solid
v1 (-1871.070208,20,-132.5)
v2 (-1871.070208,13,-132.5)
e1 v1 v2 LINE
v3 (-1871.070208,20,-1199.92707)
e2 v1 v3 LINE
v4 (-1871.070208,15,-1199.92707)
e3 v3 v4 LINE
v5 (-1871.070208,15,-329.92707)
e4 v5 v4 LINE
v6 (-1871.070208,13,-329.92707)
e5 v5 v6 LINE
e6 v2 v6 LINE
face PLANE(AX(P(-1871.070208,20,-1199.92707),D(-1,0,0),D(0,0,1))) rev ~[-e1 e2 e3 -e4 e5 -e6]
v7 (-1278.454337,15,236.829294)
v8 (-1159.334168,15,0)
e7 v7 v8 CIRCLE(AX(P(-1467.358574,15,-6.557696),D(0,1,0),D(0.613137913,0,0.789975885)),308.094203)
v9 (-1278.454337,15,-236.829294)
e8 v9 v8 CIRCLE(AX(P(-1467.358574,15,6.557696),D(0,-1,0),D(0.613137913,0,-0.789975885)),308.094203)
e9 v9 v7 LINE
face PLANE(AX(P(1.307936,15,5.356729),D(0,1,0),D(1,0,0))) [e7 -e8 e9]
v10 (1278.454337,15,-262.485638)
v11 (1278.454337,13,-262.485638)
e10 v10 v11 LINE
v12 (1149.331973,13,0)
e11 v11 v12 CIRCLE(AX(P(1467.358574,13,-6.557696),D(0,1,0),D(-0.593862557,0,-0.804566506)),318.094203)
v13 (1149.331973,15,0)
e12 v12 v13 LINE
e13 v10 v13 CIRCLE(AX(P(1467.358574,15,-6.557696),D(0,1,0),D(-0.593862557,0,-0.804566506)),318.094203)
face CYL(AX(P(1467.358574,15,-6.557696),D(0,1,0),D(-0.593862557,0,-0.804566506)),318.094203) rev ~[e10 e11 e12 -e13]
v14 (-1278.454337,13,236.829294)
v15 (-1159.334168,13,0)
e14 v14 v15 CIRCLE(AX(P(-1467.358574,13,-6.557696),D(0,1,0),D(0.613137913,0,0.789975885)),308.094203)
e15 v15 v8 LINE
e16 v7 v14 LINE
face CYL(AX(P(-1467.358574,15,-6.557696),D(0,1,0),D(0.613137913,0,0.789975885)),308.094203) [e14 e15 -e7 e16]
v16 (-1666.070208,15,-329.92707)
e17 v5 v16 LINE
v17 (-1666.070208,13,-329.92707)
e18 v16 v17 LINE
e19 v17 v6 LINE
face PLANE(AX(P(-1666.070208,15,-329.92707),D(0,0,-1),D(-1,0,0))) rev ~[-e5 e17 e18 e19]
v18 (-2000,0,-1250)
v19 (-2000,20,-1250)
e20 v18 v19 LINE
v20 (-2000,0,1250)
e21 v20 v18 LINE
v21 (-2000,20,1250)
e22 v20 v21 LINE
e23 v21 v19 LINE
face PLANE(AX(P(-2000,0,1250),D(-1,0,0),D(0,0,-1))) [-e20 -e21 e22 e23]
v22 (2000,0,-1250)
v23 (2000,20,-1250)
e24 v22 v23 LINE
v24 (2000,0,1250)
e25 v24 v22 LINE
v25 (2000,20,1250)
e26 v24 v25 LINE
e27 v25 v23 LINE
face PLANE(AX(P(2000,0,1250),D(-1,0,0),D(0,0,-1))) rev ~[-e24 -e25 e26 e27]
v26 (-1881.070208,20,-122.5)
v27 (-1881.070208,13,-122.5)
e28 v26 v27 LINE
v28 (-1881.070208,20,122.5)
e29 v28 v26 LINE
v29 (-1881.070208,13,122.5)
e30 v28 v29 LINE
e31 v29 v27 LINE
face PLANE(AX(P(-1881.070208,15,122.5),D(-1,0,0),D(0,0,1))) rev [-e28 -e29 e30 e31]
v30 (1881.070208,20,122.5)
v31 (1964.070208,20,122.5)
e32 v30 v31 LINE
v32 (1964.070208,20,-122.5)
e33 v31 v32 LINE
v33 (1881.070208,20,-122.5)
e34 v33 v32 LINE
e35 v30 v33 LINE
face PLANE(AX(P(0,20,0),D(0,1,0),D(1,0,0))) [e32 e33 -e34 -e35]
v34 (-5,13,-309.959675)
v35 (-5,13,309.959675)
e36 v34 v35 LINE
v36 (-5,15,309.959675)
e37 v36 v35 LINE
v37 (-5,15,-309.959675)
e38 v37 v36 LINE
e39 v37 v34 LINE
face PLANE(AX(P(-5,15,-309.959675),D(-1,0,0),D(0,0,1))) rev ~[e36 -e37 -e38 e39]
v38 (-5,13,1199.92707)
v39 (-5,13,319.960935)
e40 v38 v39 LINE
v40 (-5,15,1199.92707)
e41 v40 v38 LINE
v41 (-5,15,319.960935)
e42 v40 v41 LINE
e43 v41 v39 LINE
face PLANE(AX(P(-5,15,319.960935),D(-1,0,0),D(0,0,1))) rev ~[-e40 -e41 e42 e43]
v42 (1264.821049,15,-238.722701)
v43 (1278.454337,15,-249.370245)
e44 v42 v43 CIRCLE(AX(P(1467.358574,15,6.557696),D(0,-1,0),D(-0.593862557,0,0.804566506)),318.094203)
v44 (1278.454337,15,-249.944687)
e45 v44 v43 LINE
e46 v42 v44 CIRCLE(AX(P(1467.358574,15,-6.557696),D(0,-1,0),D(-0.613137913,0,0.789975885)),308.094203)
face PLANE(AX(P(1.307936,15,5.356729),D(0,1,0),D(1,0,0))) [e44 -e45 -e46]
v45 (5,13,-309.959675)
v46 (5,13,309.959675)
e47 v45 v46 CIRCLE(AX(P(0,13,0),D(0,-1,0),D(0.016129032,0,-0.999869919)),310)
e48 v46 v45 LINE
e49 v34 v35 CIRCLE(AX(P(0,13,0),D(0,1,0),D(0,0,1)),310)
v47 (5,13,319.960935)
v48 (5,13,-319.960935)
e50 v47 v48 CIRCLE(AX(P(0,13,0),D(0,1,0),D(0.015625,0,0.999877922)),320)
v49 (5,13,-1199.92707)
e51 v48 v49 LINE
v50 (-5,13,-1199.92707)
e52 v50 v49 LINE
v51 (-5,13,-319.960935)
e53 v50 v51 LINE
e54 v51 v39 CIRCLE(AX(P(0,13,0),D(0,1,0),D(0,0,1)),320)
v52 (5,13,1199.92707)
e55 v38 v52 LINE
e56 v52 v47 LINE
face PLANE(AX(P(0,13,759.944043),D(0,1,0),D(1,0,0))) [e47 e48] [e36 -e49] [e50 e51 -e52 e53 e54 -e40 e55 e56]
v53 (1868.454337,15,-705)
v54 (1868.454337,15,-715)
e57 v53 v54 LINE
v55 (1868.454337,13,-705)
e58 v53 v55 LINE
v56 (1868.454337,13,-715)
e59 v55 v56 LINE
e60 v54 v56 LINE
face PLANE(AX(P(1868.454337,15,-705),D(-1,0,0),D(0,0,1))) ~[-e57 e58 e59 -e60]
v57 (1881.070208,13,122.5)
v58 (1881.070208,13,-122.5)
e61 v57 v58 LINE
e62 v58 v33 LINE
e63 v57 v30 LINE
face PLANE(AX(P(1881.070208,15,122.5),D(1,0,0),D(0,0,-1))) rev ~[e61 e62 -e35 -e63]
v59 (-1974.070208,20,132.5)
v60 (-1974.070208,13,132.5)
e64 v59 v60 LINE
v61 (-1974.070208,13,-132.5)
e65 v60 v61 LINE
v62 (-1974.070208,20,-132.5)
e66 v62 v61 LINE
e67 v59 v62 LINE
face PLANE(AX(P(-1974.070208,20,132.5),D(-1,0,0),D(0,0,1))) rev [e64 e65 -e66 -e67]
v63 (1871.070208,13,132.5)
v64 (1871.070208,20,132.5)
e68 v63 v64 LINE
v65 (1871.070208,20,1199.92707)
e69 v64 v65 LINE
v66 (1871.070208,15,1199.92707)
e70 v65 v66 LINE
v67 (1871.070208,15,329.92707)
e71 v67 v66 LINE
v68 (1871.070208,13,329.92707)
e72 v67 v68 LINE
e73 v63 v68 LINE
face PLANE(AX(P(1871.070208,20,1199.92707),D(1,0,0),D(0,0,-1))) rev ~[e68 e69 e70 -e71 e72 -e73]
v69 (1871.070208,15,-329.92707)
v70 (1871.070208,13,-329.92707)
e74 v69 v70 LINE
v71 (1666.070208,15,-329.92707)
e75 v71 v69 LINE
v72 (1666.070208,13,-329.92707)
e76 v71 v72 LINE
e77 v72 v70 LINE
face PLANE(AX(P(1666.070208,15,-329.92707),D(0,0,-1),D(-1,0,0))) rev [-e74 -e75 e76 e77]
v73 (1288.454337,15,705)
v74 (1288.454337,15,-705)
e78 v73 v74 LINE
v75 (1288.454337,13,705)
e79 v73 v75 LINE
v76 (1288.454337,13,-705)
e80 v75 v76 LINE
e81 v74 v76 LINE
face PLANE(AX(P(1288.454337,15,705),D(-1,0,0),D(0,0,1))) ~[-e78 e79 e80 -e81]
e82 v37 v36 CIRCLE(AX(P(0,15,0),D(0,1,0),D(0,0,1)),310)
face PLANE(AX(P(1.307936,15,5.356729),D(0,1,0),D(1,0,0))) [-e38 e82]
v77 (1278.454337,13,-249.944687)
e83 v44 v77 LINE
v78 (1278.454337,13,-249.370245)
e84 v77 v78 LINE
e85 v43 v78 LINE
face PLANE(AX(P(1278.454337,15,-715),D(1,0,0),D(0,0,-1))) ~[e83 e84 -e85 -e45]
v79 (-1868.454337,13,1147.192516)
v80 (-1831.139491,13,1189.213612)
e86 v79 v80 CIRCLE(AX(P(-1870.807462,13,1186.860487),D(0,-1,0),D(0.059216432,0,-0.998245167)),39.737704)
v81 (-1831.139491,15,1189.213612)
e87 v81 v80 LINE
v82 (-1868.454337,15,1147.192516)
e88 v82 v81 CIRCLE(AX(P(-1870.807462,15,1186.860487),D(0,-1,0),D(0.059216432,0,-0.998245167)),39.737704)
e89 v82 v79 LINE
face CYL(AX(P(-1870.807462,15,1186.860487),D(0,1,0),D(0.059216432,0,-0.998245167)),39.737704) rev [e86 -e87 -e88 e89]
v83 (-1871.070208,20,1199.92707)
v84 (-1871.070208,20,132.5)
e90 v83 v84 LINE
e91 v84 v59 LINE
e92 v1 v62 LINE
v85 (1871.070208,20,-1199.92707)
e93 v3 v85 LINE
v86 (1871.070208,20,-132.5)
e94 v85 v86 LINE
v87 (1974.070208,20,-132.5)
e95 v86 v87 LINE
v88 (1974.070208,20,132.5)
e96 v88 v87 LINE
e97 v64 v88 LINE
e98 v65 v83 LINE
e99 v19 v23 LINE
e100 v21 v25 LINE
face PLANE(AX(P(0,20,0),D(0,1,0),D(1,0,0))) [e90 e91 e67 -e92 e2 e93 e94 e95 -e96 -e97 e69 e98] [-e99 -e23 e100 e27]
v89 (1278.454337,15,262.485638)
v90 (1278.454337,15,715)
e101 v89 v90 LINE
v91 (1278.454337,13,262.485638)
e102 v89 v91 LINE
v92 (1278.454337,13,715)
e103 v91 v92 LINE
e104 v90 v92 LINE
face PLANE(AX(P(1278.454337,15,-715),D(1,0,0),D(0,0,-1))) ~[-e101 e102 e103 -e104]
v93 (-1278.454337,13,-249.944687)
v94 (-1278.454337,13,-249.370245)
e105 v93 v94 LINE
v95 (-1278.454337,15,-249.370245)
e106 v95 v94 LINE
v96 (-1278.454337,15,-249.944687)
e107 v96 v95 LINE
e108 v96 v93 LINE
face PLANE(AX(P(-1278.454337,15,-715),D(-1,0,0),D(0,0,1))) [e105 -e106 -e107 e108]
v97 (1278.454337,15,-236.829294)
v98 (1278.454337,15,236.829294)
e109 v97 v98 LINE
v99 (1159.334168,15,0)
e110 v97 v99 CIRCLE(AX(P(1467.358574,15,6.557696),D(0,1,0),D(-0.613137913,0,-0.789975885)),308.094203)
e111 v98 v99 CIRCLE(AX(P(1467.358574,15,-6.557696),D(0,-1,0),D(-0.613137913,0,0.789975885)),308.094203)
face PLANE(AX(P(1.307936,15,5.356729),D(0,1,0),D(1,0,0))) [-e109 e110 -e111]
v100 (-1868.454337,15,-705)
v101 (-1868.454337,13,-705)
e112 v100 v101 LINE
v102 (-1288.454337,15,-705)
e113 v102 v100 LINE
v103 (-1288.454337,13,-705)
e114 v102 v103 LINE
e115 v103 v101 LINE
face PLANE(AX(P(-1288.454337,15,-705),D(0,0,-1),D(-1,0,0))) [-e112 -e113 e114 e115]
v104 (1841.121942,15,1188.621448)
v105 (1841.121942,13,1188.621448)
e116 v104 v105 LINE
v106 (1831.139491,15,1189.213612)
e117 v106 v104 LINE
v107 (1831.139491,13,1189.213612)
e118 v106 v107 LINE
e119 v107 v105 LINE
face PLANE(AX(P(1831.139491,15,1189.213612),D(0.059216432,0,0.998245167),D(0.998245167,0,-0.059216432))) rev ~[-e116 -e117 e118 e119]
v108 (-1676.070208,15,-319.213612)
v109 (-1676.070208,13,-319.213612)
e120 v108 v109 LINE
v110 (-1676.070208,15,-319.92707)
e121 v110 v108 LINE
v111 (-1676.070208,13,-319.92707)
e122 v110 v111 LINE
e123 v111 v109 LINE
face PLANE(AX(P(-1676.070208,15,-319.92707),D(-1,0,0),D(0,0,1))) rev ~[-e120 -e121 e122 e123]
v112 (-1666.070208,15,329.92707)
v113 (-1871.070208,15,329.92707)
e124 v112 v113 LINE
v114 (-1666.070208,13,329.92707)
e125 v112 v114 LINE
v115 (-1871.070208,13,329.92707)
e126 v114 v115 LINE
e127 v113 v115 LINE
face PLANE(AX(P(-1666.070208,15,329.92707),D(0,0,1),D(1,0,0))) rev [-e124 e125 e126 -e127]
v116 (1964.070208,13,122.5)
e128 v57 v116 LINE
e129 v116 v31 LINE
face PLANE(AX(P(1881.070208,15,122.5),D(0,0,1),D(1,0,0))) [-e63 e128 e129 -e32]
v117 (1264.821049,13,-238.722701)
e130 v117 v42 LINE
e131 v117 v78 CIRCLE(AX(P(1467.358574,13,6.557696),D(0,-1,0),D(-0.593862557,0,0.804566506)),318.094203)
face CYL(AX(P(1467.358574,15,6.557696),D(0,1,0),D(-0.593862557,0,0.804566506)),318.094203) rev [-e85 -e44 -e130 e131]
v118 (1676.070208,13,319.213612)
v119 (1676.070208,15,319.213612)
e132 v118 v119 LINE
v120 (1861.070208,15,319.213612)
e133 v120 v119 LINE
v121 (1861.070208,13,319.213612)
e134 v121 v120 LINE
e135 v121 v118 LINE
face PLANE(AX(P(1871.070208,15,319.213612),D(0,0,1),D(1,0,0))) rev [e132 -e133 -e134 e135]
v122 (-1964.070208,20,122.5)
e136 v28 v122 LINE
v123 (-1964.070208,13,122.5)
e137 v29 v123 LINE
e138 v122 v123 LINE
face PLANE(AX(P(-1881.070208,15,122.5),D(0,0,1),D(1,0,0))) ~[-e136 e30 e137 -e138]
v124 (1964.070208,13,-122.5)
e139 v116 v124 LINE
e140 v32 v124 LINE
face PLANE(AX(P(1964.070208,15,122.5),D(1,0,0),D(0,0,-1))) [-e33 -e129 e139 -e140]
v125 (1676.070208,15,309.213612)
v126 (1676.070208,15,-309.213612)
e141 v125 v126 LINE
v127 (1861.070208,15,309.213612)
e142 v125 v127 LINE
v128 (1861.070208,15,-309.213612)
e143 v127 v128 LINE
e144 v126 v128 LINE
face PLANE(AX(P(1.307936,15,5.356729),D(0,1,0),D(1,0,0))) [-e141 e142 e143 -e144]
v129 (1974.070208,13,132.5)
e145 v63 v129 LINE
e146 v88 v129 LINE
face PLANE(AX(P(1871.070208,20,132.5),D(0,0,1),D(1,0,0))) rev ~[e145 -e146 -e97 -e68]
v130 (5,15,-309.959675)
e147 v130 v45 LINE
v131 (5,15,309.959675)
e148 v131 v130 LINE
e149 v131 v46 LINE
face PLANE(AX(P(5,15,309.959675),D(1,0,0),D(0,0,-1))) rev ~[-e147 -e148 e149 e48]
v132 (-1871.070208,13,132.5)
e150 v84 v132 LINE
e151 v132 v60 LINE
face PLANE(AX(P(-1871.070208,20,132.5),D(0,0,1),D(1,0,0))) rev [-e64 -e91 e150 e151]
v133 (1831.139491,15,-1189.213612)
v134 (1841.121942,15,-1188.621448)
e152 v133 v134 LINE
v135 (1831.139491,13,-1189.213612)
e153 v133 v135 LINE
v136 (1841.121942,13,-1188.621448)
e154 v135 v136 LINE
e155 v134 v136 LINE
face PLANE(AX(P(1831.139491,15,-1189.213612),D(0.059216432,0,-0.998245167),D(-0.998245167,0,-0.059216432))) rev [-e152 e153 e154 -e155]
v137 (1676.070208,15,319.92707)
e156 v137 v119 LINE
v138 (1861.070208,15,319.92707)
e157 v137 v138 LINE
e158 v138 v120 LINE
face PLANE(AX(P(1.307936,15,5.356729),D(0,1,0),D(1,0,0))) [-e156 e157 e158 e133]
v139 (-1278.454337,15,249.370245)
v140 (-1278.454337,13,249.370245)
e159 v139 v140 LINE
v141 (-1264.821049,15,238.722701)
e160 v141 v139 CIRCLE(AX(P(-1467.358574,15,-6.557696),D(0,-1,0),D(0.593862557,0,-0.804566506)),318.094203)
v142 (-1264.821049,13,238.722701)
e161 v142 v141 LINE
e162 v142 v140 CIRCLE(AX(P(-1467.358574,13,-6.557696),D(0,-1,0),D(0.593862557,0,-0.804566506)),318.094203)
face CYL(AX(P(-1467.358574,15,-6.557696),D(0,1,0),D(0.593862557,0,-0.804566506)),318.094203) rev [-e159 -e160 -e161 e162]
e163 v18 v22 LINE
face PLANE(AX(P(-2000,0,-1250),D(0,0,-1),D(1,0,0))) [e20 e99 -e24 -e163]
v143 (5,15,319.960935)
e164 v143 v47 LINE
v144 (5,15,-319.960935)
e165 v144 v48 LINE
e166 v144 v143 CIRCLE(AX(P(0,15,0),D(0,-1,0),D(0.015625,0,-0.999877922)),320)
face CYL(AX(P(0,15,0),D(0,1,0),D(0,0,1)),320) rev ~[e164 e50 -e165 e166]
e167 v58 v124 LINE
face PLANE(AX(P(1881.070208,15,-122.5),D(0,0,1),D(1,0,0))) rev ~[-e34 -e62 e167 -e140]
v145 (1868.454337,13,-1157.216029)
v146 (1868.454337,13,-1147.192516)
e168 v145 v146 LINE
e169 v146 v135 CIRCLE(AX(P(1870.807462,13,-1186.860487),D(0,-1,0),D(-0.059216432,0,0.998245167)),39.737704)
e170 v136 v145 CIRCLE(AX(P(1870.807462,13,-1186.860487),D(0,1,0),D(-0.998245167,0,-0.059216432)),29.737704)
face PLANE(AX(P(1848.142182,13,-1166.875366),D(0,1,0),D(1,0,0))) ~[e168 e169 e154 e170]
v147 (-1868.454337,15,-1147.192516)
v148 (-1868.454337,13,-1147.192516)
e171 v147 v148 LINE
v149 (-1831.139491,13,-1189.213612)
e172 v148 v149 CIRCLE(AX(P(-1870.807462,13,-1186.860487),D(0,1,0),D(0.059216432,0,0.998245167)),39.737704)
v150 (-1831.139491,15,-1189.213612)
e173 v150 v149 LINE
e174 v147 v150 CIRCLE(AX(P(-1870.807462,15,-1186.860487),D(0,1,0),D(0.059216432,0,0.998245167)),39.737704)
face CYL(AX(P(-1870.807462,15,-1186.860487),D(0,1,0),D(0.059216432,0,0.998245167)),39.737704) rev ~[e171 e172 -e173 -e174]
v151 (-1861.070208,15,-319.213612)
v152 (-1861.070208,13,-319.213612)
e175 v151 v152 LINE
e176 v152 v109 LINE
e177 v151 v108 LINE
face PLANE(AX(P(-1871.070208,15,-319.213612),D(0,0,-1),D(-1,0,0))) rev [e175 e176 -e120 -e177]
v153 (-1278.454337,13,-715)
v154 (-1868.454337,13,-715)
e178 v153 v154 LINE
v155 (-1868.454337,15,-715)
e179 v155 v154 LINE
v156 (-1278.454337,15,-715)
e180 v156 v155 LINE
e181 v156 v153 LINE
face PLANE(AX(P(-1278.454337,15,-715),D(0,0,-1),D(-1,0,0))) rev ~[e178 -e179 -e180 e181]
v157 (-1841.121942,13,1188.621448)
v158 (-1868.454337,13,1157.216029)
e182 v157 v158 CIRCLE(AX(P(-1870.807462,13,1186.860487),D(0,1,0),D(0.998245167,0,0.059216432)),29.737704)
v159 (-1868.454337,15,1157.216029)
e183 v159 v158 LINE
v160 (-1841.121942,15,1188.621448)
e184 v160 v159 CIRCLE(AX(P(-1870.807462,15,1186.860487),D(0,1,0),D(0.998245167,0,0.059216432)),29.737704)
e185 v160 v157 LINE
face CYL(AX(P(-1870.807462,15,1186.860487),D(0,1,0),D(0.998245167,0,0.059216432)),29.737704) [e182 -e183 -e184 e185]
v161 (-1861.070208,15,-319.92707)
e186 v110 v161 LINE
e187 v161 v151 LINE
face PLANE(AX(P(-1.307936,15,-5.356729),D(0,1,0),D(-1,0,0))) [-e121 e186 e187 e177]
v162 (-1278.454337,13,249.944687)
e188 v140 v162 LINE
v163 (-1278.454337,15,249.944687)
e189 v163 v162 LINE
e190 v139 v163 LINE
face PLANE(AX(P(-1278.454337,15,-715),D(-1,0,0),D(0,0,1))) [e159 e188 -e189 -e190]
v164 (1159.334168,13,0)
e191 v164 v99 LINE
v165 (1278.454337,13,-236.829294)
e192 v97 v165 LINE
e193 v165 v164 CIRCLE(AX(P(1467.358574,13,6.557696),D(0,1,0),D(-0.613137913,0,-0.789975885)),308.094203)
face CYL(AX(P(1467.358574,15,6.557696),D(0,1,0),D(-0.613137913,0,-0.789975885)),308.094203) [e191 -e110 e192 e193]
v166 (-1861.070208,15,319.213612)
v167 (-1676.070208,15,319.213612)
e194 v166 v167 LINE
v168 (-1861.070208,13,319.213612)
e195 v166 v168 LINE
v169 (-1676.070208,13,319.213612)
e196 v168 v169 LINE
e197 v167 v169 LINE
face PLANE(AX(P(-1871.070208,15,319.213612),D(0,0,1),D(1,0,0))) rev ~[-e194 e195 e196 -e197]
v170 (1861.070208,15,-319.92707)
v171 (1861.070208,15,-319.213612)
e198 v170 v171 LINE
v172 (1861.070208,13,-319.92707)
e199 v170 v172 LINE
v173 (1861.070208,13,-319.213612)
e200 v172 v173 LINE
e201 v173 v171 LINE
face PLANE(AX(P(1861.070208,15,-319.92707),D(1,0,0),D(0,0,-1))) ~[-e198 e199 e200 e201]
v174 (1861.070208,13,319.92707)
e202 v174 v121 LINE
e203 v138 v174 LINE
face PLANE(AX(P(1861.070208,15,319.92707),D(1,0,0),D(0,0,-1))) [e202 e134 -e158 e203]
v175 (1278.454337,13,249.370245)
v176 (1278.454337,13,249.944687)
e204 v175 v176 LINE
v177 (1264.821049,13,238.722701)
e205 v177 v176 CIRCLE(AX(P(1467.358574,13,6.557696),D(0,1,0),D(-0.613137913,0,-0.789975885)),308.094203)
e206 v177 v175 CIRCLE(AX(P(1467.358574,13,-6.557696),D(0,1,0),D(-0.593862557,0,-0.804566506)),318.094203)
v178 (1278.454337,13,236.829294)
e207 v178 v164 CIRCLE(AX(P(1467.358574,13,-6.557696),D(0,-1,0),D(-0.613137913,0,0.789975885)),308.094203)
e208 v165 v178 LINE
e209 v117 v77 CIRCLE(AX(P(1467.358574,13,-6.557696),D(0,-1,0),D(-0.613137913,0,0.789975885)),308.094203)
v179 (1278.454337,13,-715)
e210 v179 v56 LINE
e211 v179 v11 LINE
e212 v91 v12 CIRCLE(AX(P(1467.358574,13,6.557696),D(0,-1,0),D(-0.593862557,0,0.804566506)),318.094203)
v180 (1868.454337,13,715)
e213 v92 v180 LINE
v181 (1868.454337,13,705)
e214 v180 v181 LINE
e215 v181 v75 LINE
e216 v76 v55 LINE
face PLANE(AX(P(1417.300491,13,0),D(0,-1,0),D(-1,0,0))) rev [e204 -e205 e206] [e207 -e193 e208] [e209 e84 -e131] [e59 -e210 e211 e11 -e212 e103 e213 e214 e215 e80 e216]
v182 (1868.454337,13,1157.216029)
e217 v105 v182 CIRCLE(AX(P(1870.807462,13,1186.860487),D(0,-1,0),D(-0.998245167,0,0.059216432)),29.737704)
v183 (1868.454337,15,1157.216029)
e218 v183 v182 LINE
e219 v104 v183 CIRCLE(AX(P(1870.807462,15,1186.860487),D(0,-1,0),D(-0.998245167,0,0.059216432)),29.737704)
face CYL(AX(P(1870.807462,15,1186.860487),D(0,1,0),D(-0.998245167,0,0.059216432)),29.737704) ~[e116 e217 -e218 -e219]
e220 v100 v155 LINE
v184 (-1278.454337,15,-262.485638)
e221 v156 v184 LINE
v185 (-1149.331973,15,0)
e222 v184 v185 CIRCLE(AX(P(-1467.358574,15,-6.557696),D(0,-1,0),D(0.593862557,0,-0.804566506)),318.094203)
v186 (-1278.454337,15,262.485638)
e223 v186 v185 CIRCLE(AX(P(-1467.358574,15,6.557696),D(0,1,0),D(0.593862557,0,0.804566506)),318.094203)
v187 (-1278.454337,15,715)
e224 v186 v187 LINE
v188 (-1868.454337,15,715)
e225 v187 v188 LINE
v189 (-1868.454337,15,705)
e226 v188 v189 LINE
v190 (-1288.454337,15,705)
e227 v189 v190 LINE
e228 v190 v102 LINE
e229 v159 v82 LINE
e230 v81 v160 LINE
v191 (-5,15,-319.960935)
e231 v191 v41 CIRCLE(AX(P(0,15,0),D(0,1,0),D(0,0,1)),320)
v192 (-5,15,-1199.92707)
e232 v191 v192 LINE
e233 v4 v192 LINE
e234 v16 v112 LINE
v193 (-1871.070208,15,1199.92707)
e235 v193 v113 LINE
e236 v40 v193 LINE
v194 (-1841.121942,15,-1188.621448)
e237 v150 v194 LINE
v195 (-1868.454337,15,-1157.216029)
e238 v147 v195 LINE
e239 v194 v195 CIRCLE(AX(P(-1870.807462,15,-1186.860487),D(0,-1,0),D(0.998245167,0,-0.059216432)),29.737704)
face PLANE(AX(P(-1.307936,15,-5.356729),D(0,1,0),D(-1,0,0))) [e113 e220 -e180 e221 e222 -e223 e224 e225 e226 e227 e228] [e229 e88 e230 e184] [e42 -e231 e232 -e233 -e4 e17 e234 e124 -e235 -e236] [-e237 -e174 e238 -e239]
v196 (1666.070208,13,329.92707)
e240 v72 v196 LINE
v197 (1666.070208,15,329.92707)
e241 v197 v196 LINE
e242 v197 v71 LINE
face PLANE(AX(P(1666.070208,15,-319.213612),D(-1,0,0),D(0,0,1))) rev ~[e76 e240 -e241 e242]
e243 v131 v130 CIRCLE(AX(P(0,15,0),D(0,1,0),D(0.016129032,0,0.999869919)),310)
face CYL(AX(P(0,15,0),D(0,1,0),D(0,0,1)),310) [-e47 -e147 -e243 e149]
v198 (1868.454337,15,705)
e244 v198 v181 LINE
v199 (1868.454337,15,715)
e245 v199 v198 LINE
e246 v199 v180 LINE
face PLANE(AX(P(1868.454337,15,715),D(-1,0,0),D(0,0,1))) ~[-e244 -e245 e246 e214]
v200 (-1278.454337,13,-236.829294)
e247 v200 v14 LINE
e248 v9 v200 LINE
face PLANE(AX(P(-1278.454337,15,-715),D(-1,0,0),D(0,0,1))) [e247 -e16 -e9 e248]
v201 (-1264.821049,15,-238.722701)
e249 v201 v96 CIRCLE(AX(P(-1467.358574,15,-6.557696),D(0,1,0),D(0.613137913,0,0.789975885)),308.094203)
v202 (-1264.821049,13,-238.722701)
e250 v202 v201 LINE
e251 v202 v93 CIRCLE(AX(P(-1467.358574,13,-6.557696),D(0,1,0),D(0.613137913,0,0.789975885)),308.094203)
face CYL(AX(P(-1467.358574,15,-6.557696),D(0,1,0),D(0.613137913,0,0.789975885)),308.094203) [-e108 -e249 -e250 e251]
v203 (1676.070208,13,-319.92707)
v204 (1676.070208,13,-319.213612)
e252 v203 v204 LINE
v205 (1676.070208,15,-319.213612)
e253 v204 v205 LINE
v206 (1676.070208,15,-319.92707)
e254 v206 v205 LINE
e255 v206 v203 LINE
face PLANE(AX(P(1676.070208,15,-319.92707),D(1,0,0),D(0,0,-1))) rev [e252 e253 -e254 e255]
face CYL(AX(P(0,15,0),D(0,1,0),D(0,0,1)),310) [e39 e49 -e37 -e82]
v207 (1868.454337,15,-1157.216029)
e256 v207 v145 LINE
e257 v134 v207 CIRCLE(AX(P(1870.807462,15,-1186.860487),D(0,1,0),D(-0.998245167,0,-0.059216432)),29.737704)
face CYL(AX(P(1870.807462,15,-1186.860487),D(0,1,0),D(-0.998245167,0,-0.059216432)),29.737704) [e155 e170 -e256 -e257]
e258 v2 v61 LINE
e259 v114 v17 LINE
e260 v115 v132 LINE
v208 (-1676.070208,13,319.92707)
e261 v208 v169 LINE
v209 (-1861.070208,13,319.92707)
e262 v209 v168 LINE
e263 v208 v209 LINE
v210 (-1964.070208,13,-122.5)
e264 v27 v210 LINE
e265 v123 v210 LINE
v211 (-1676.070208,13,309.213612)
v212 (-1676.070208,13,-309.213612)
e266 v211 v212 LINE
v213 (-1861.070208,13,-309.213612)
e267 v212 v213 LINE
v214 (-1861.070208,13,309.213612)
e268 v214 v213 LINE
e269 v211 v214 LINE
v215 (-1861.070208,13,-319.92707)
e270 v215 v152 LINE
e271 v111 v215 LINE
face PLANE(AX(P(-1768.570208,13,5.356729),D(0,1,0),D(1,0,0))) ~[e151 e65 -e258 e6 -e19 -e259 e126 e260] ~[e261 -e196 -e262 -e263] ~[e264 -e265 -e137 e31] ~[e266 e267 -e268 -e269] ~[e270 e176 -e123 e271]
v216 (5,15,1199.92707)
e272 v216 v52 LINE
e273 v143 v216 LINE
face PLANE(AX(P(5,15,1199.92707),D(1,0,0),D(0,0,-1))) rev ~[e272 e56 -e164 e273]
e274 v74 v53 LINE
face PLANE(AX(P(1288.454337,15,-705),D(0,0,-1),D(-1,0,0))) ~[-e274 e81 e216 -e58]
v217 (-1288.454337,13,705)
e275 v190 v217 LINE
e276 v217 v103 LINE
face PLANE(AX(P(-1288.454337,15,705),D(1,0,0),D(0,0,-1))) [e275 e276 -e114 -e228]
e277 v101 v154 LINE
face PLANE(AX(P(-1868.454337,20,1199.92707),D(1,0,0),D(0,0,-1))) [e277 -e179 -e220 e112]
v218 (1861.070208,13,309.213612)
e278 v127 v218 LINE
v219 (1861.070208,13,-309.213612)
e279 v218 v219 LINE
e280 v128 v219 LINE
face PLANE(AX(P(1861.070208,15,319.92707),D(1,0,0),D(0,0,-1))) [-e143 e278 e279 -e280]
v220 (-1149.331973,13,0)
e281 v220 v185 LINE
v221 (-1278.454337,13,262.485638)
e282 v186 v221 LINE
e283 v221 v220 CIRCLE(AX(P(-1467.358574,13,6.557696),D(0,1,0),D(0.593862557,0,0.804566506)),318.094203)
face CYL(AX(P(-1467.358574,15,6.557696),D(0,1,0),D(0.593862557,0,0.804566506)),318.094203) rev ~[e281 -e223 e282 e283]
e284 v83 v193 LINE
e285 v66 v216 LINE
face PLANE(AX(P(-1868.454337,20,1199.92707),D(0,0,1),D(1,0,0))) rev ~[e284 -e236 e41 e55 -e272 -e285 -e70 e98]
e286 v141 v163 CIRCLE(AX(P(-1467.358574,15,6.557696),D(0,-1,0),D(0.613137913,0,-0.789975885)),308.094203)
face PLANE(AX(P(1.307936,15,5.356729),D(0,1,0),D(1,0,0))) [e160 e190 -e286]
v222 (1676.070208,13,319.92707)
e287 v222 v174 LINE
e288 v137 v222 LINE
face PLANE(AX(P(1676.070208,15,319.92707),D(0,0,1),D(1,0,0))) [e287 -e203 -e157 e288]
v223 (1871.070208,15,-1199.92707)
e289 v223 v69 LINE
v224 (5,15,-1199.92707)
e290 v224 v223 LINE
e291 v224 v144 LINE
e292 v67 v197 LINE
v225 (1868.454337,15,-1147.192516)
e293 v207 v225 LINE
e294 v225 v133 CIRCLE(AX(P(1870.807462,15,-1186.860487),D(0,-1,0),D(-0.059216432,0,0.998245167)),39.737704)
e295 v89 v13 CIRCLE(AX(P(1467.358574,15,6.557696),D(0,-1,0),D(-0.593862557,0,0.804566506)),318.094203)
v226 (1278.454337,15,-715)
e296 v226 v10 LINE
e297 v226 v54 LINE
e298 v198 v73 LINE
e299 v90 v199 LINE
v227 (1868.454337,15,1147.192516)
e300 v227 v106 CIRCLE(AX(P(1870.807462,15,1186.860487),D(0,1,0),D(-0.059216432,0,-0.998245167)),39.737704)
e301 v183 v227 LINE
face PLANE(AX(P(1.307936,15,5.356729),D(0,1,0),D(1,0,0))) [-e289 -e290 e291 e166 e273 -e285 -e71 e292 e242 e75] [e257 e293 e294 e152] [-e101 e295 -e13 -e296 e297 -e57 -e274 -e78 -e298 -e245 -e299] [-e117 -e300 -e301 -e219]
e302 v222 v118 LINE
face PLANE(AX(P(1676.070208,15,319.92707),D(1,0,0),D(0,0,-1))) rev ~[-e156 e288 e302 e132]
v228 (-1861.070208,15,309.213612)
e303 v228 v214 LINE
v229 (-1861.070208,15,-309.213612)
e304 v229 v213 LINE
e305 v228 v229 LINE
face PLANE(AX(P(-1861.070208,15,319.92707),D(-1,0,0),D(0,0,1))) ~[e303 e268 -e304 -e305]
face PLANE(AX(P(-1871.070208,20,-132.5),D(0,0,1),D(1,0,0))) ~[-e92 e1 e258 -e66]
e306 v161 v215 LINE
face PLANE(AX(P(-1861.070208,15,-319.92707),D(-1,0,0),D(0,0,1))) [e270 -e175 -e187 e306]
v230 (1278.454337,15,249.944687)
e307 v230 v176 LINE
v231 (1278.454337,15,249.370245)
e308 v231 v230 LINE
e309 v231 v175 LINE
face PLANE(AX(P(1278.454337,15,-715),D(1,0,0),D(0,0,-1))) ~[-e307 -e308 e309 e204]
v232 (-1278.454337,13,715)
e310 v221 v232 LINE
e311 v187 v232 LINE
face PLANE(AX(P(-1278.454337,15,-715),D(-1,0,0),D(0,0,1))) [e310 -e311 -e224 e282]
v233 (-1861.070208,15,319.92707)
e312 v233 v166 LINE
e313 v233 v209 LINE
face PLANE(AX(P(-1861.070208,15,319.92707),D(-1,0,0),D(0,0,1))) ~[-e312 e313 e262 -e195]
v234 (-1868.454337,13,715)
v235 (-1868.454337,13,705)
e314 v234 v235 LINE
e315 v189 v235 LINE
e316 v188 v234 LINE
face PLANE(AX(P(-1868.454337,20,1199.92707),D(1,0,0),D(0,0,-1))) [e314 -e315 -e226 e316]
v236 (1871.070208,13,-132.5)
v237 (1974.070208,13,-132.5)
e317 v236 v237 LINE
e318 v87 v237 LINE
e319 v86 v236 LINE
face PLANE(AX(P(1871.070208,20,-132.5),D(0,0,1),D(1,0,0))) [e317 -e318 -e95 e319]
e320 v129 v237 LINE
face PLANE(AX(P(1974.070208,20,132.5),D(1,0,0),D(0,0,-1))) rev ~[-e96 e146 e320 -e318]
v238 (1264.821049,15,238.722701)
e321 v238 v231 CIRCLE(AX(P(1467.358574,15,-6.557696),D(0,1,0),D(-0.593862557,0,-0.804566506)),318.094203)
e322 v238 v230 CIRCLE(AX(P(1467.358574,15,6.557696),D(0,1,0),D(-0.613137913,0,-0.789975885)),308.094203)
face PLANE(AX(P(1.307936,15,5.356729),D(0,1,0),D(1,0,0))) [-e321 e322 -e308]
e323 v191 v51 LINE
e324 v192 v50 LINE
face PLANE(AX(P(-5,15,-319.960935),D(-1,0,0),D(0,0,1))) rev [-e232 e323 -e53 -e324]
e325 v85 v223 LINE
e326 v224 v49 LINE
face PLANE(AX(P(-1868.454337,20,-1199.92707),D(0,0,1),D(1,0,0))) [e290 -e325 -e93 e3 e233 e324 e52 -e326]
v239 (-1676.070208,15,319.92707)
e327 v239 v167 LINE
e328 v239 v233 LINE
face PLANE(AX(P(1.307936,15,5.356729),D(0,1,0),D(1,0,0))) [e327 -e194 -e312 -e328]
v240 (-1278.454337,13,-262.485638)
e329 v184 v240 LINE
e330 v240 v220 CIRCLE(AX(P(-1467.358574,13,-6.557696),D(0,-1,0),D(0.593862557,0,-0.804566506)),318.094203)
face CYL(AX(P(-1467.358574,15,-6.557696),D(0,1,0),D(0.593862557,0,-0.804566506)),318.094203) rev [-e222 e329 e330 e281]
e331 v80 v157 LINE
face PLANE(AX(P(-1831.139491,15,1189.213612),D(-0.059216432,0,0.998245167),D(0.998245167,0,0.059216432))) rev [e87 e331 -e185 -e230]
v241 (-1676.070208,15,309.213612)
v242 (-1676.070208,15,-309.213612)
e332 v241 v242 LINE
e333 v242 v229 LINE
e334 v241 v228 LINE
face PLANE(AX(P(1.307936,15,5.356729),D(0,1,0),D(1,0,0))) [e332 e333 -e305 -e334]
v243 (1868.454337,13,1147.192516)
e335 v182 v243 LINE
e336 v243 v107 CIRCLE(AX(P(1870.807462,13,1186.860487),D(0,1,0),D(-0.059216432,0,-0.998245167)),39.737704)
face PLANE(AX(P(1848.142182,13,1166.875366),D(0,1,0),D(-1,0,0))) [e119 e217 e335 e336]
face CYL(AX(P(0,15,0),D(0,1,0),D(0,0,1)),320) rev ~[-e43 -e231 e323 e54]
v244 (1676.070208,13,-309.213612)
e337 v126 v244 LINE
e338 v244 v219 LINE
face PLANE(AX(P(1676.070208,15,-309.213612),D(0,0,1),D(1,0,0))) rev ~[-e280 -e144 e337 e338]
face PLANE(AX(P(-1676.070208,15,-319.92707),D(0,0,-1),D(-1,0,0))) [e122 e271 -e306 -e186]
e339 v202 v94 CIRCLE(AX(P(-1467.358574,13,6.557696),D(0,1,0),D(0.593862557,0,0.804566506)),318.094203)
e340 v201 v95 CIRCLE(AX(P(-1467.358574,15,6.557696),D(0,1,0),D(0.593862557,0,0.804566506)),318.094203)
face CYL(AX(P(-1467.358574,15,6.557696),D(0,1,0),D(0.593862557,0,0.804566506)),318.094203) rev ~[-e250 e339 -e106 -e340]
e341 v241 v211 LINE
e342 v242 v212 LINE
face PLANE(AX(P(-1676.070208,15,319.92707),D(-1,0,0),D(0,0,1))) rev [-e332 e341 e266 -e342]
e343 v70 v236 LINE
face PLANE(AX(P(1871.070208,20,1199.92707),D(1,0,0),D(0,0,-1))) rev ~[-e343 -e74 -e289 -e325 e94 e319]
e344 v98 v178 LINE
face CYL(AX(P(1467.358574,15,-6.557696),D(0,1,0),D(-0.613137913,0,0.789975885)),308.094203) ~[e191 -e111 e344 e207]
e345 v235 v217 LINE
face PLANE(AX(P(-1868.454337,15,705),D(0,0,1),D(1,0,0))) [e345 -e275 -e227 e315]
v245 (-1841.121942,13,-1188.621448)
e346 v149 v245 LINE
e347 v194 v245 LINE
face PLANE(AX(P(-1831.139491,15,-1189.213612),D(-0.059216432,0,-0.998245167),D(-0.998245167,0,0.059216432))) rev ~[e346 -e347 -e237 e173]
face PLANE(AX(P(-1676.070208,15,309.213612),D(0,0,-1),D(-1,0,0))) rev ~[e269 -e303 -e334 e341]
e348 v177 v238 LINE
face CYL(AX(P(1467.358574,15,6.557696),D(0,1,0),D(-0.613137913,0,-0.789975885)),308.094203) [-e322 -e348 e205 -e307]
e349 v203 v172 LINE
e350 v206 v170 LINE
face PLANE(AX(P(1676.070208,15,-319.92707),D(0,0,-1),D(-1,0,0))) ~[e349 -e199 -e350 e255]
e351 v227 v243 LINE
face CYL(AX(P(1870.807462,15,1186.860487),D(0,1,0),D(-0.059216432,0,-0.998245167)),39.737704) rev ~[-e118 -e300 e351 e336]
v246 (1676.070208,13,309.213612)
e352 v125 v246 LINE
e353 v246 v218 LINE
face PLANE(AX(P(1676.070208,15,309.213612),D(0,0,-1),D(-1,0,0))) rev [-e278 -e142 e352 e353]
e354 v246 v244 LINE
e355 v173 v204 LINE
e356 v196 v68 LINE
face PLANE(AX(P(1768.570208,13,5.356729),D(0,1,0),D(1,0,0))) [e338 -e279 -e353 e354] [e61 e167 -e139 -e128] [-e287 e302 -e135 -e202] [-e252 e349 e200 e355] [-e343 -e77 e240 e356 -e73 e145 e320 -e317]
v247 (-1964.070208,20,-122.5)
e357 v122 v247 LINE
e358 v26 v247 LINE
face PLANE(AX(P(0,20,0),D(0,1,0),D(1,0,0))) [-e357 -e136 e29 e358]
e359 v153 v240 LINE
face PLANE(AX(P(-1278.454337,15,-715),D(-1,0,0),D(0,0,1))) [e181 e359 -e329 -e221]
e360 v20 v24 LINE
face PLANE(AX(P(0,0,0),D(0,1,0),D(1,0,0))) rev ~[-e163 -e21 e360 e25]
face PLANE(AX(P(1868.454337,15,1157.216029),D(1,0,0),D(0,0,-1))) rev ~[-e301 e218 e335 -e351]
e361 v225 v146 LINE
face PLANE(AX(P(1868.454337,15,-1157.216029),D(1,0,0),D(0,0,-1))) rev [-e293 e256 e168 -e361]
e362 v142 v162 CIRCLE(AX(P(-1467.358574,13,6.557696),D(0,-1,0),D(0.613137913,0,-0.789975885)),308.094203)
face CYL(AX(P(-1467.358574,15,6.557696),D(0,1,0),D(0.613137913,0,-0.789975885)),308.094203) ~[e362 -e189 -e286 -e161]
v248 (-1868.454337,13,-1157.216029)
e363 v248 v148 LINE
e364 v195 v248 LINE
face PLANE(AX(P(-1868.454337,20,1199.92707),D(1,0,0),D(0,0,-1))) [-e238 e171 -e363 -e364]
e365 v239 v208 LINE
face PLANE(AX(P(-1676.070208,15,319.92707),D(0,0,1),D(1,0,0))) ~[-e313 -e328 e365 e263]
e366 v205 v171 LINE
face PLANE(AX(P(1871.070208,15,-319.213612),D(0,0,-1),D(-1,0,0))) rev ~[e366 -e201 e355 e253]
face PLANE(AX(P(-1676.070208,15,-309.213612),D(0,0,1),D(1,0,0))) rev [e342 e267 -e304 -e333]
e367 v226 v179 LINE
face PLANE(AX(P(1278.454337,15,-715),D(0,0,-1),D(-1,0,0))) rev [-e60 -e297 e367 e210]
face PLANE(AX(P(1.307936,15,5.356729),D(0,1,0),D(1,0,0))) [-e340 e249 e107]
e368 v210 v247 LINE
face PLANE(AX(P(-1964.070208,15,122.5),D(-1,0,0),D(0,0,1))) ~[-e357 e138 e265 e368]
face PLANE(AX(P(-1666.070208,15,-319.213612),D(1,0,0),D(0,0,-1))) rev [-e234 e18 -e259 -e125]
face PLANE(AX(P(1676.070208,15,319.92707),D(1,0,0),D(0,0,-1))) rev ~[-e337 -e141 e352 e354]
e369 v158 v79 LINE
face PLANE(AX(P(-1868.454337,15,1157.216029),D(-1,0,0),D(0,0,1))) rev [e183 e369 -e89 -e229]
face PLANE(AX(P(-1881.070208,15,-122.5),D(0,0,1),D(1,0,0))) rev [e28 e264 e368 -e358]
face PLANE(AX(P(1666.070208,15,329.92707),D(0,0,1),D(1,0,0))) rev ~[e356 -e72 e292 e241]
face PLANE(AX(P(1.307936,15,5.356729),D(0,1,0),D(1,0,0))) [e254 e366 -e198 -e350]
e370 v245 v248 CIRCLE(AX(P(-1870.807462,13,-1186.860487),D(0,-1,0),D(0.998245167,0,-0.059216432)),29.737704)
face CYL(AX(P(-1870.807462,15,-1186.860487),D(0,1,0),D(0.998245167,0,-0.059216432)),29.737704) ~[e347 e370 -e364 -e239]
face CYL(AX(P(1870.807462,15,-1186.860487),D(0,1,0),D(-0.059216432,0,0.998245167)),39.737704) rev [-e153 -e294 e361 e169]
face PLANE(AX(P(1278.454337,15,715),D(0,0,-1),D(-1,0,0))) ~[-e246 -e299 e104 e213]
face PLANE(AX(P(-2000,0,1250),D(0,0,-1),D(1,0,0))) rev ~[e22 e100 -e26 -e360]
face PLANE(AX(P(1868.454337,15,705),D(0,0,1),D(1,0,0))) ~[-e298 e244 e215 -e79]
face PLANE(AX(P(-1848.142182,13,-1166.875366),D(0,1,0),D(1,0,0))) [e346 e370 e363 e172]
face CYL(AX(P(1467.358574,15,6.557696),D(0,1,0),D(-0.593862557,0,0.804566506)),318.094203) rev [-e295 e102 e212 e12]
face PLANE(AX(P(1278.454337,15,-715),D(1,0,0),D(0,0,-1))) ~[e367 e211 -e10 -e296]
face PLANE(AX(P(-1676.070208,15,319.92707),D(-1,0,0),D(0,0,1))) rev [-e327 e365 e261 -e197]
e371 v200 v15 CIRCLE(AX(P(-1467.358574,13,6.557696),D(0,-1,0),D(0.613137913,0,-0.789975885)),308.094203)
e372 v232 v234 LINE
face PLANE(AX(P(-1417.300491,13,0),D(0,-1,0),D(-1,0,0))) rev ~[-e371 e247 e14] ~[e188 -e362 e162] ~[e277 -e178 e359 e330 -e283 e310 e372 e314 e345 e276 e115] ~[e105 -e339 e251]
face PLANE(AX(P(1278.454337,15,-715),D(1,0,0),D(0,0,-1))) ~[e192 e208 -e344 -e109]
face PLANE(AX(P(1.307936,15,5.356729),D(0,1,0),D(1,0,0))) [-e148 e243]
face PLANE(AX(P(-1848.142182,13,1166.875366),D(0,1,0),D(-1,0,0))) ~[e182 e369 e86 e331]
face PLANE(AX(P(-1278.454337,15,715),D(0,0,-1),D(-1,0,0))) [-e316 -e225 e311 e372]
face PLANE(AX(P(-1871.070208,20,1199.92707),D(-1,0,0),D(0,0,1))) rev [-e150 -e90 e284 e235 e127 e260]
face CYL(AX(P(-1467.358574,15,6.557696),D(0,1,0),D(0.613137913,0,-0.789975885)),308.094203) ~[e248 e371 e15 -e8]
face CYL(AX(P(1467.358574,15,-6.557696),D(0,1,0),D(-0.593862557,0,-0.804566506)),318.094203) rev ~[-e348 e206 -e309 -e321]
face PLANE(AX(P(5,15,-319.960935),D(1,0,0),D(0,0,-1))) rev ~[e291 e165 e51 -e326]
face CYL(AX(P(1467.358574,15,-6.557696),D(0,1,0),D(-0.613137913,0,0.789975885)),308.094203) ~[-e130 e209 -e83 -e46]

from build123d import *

# Parameters (mm, degrees)
SKETCH_1_W                  = 4000
SKETCH_1_H                  = 2500
EXTRUDE_1_DEPTH             = 20
SKETCH_3_W                  = 3739.524544905
SKETCH_3_H                  = 2389.140681467
CUT_EXTRUDE_1_DEPTH         = 5
CUT_EXTRUDE_3_DEPTH         = 2
SKETCH_5_W                  = 185
SKETCH_5_H                  = 629.140681467
SKETCH_5_W_2                = 83
SKETCH_5_H_2                = 245
CUT_EXTRUDE_5_DEPTH         = 2
SKETCH_7_W                  = 103
SKETCH_7_H                  = 265
SKETCH_7_W_2                = 83
SKETCH_7_H_2                = 245
CUT_EXTRUDE_6_DEPTH         = 5
CUT_EXTRUDE_16_DEPTH        = 2
SKETCH_9_3_R                = 320
SKETCH_9_3_R_2              = 310
CUT_EXTRUDE_17_DEPTH        = 2
CUT_EXTRUDE_18_DEPTH        = 2
MIRROR_3_COPY_1_SKETCH_W    = 3739.524544905
MIRROR_3_COPY_1_SKETCH_H    = 2389.140681467
MIRROR_3_COPY_1_DEPTH       = 5
MIRROR_3_COPY_2_DEPTH       = 2
MIRROR_3_COPY_3_SKETCH_W    = 185
MIRROR_3_COPY_3_SKETCH_H    = 629.140681467
MIRROR_3_COPY_3_SKETCH_W_2  = 83
MIRROR_3_COPY_3_SKETCH_H_2  = 245
MIRROR_3_COPY_3_DEPTH       = 2
MIRROR_3_COPY_4_SKETCH_W    = 103
MIRROR_3_COPY_4_SKETCH_H    = 265
MIRROR_3_COPY_4_SKETCH_W_2  = 83
MIRROR_3_COPY_4_SKETCH_H_2  = 245
MIRROR_3_COPY_4_DEPTH       = 5
MIRROR_3_COPY_5_DEPTH       = 2
MIRROR_3_COPY_6_SKETCH_R    = 320
MIRROR_3_COPY_6_SKETCH_R_2  = 310
MIRROR_3_COPY_6_DEPTH       = 2
MIRROR_3_COPY_7_DEPTH       = 2
MIRROR_3_COPY_8_SKETCH_W    = 3739.524544905
MIRROR_3_COPY_8_SKETCH_H    = 2389.140681467
MIRROR_3_COPY_8_DEPTH       = 5
MIRROR_3_COPY_9_DEPTH       = 2
MIRROR_3_COPY_10_SKETCH_W   = 185
MIRROR_3_COPY_10_SKETCH_H   = 629.140681467
MIRROR_3_COPY_10_SKETCH_W_2 = 83
MIRROR_3_COPY_10_SKETCH_H_2 = 245
MIRROR_3_COPY_10_DEPTH      = 2
MIRROR_3_COPY_11_SKETCH_W   = 103
MIRROR_3_COPY_11_SKETCH_H   = 265
MIRROR_3_COPY_11_SKETCH_W_2 = 83
MIRROR_3_COPY_11_SKETCH_H_2 = 245
MIRROR_3_COPY_11_DEPTH      = 5
MIRROR_3_COPY_12_DEPTH      = 2
MIRROR_3_COPY_13_SKETCH_R   = 320
MIRROR_3_COPY_13_SKETCH_R_2 = 310
MIRROR_3_COPY_13_DEPTH      = 2
MIRROR_3_COPY_14_DEPTH      = 2


with BuildPart() as part:
    # 草圖1 → 填料-伸長1 (new body)
    with BuildSketch(Plane(origin=(0, 0, 0), x_dir=(1, 0, 0), z_dir=(0, 1, 0))):
        Rectangle(SKETCH_1_W, SKETCH_1_H)
    extrude(amount=EXTRUDE_1_DEPTH)

    # 草圖3 → 除料-伸長1 (cut)
    with BuildSketch(Plane(origin=(0, 20, 0), x_dir=(1, 0, 0), z_dir=(0, 1, 0))):
        with Locations((1.30793571, -5.356728769)):
            Rectangle(SKETCH_3_W, SKETCH_3_H)
    cut_extrude_1 = extrude(amount=-CUT_EXTRUDE_1_DEPTH, mode=Mode.SUBTRACT)

    # 草圖4 → 除料-伸長3 (cut)
    with BuildSketch(Plane(origin=(0, 15, 0), x_dir=(1, 0, 0), z_dir=(0, 1, 0))):
        Polygon((-1868.454336743, 715), (-1288.454336743, 715), (-1278.454336743, 715), (-1278.454336743, -715), (-1868.454336743, -715), (-1868.454336743, -705), (-1288.454336743, -705), (-1288.454336743, 705), (-1868.454336743, 705), align=None)
    cut_extrude_3 = extrude(amount=-CUT_EXTRUDE_3_DEPTH, mode=Mode.SUBTRACT)

    # 草圖5 → 除料-伸長5 (cut)
    with BuildSketch(Plane(origin=(0, 15, 0), x_dir=(1, 0, 0), z_dir=(0, 1, 0))):
        Polygon((1871.070208162, 319.213611964), (1666.070208162, 319.213611964), (1666.070208162, -329.927069503), (1871.070208162, -329.927069503), (1871.070208162, -132.5), (1974.070208162, -132.5), (1974.070208162, 132.5), (1871.070208162, 132.5), align=None)
        with Locations((1768.570208162, -5.35672877)):
            Rectangle(SKETCH_5_W, SKETCH_5_H, mode=Mode.SUBTRACT)
        with Locations((1922.570208162, 0)):
            Rectangle(SKETCH_5_W_2, SKETCH_5_H_2, mode=Mode.SUBTRACT)
    cut_extrude_5 = extrude(amount=-CUT_EXTRUDE_5_DEPTH, mode=Mode.SUBTRACT)

    # 草圖7 → 除料-伸長6 (cut)
    with BuildSketch(Plane(origin=(0, 20, 0), x_dir=(1, 0, 0), z_dir=(0, 1, 0))):
        with Locations((1922.570208162, 0)):
            Rectangle(SKETCH_7_W, SKETCH_7_H)
        with Locations((1922.570208162, 0)):
            Rectangle(SKETCH_7_W_2, SKETCH_7_H_2, mode=Mode.SUBTRACT)
    cut_extrude_6 = extrude(amount=-CUT_EXTRUDE_6_DEPTH, mode=Mode.SUBTRACT)

    # 草圖9 → 除料-伸長16 (cut)
    with BuildSketch(Plane(origin=(0, 15, 0), x_dir=(1, 0, 0), z_dir=(0, 1, 0))):
        with BuildLine():
            ThreePointArc((-1278.454336743, -262.485638384), (-1149.264370393, -6.557696493), (-1278.454336743, 249.370245398))
            Line((-1278.454336743, 249.370245398), (-1278.454336743, 236.829294479))
            ThreePointArc((-1278.454336743, 236.829294479), (-1159.264370393, -6.557696493), (-1278.454336743, -249.944687465))
            Line((-1278.454336743, -249.944687465), (-1278.454336743, -262.485638384))
        make_face()
    cut_extrude_16 = extrude(amount=-CUT_EXTRUDE_16_DEPTH, mode=Mode.SUBTRACT)

    # 草圖9<3> → 除料-伸長17 (cut)
    with BuildSketch(Plane(origin=(0, 15, 0), x_dir=(1, 0, 0), z_dir=(0, 1, 0))):
        Circle(SKETCH_9_3_R)
        Circle(SKETCH_9_3_R_2, mode=Mode.SUBTRACT)
    cut_extrude_17 = extrude(amount=-CUT_EXTRUDE_17_DEPTH, mode=Mode.SUBTRACT)

    # 草圖9<4> → 除料-伸長18 (cut)
    with BuildSketch(Plane(origin=(0, 15, 0), x_dir=(1, 0, 0), z_dir=(0, 1, 0))):
        with BuildLine():
            ThreePointArc((-1868.454336743, 1147.192515671), (-1841.094059669, 1160.474906139), (-1831.139490585, 1189.213611964))
            Line((-1831.139490585, 1189.213611964), (-1841.121942258, 1188.621447643))
            ThreePointArc((-1841.121942258, 1188.621447643), (-1848.37548107, 1167.337749028), (-1868.454336743, 1157.216029468))
            Line((-1868.454336743, 1157.216029468), (-1868.454336743, 1147.192515671))
        make_face()
        with BuildLine():
            Line((5, 319.960935116), (5, 1189.213611964))
            Line((5, 1189.213611964), (-5, 1189.213611964))
            Line((-5, 1189.213611964), (-5, 319.960935116))
            ThreePointArc((-5, 319.960935116), (0, 320), (5, 319.960935116))
        make_face()
        with BuildLine():
            Line((5, -309.959674797), (5, 309.959674797))
            ThreePointArc((5, 309.959674797), (0, 310), (-5, 309.959674797))
            Line((-5, 309.959674797), (-5, -309.959674797))
            ThreePointArc((-5, -309.959674797), (0, -310), (5, -309.959674797))
        make_face()
        with BuildLine():
            ThreePointArc((5, -319.960935116), (0, -320), (-5, -319.960935116))
            Line((-5, -319.960935116), (-5, -1199.927069503))
            Line((-5, -1199.927069503), (5, -1199.927069503))
            Line((5, -1199.927069503), (5, -319.960935116))
        make_face()
    cut_extrude_18 = extrude(amount=-CUT_EXTRUDE_18_DEPTH, mode=Mode.SUBTRACT)

    # 鏡射1: 除料-伸長1, 除料-伸長3, 除料-伸長5, 除料-伸長6, 除料-伸長16, 除料-伸長17, 除料-伸長18 across plane
    add(cut_extrude_1.mirror(Plane(origin=(0, 0, 0), x_dir=(0, 0, 1), z_dir=(1, 0, 0))), mode=Mode.SUBTRACT)
    add(cut_extrude_3.mirror(Plane(origin=(0, 0, 0), x_dir=(0, 0, 1), z_dir=(1, 0, 0))), mode=Mode.SUBTRACT)
    add(cut_extrude_5.mirror(Plane(origin=(0, 0, 0), x_dir=(0, 0, 1), z_dir=(1, 0, 0))), mode=Mode.SUBTRACT)
    add(cut_extrude_6.mirror(Plane(origin=(0, 0, 0), x_dir=(0, 0, 1), z_dir=(1, 0, 0))), mode=Mode.SUBTRACT)
    add(cut_extrude_16.mirror(Plane(origin=(0, 0, 0), x_dir=(0, 0, 1), z_dir=(1, 0, 0))), mode=Mode.SUBTRACT)
    add(cut_extrude_17.mirror(Plane(origin=(0, 0, 0), x_dir=(0, 0, 1), z_dir=(1, 0, 0))), mode=Mode.SUBTRACT)
    add(cut_extrude_18.mirror(Plane(origin=(0, 0, 0), x_dir=(0, 0, 1), z_dir=(1, 0, 0))), mode=Mode.SUBTRACT)

    # 鏡射3 copy 1 sketch → 鏡射3 copy 1 (cut)
    with BuildSketch(Plane(origin=(0, 20, 0), x_dir=(-1, 0, 0), z_dir=(0, 1, 0))):
        with Locations((1.30793571, -5.356728769)):
            Rectangle(MIRROR_3_COPY_1_SKETCH_W, MIRROR_3_COPY_1_SKETCH_H)
    extrude(amount=-MIRROR_3_COPY_1_DEPTH, mode=Mode.SUBTRACT)

    # 鏡射3 copy 2 sketch → 鏡射3 copy 2 (cut)
    with BuildSketch(Plane(origin=(0, 15, 0), x_dir=(-1, 0, 0), z_dir=(0, 1, 0))):
        Polygon((-1868.454336743, 715), (-1288.454336743, 715), (-1278.454336743, 715), (-1278.454336743, -715), (-1868.454336743, -715), (-1868.454336743, -705), (-1288.454336743, -705), (-1288.454336743, 705), (-1868.454336743, 705), align=None)
    extrude(amount=-MIRROR_3_COPY_2_DEPTH, mode=Mode.SUBTRACT)

    # 鏡射3 copy 3 sketch → 鏡射3 copy 3 (cut)
    with BuildSketch(Plane(origin=(0, 15, 0), x_dir=(-1, 0, 0), z_dir=(0, 1, 0))):
        Polygon((1871.070208162, 319.213611964), (1666.070208162, 319.213611964), (1666.070208162, -329.927069503), (1871.070208162, -329.927069503), (1871.070208162, -132.5), (1974.070208162, -132.5), (1974.070208162, 132.5), (1871.070208162, 132.5), align=None)
        with Locations((1768.570208162, -5.35672877)):
            Rectangle(MIRROR_3_COPY_3_SKETCH_W, MIRROR_3_COPY_3_SKETCH_H, mode=Mode.SUBTRACT)
        with Locations((1922.570208162, 0)):
            Rectangle(MIRROR_3_COPY_3_SKETCH_W_2, MIRROR_3_COPY_3_SKETCH_H_2, mode=Mode.SUBTRACT)
    extrude(amount=-MIRROR_3_COPY_3_DEPTH, mode=Mode.SUBTRACT)

    # 鏡射3 copy 4 sketch → 鏡射3 copy 4 (cut)
    with BuildSketch(Plane(origin=(0, 20, 0), x_dir=(-1, 0, 0), z_dir=(0, 1, 0))):
        with Locations((1922.570208162, 0)):
            Rectangle(MIRROR_3_COPY_4_SKETCH_W, MIRROR_3_COPY_4_SKETCH_H)
        with Locations((1922.570208162, 0)):
            Rectangle(MIRROR_3_COPY_4_SKETCH_W_2, MIRROR_3_COPY_4_SKETCH_H_2, mode=Mode.SUBTRACT)
    extrude(amount=-MIRROR_3_COPY_4_DEPTH, mode=Mode.SUBTRACT)

    # 鏡射3 copy 5 sketch → 鏡射3 copy 5 (cut)
    with BuildSketch(Plane(origin=(0, 15, 0), x_dir=(-1, 0, 0), z_dir=(0, 1, 0))):
        with BuildLine():
            ThreePointArc((-1278.454336743, -262.485638384), (-1149.264370393, -6.557696493), (-1278.454336743, 249.370245398))
            Line((-1278.454336743, 249.370245398), (-1278.454336743, 236.829294479))
            ThreePointArc((-1278.454336743, 236.829294479), (-1159.264370393, -6.557696493), (-1278.454336743, -249.944687465))
            Line((-1278.454336743, -249.944687465), (-1278.454336743, -262.485638384))
        make_face()
    extrude(amount=-MIRROR_3_COPY_5_DEPTH, mode=Mode.SUBTRACT)

    # 鏡射3 copy 6 sketch → 鏡射3 copy 6 (cut)
    with BuildSketch(Plane(origin=(0, 15, 0), x_dir=(-1, 0, 0), z_dir=(0, 1, 0))):
        Circle(MIRROR_3_COPY_6_SKETCH_R)
        Circle(MIRROR_3_COPY_6_SKETCH_R_2, mode=Mode.SUBTRACT)
    extrude(amount=-MIRROR_3_COPY_6_DEPTH, mode=Mode.SUBTRACT)

    # 鏡射3 copy 7 sketch → 鏡射3 copy 7 (cut)
    with BuildSketch(Plane(origin=(0, 15, 0), x_dir=(-1, 0, 0), z_dir=(0, 1, 0))):
        with BuildLine():
            ThreePointArc((-1868.454336743, 1147.192515671), (-1841.094059669, 1160.474906139), (-1831.139490585, 1189.213611964))
            Line((-1831.139490585, 1189.213611964), (-1841.121942258, 1188.621447643))
            ThreePointArc((-1841.121942258, 1188.621447643), (-1848.37548107, 1167.337749028), (-1868.454336743, 1157.216029468))
            Line((-1868.454336743, 1157.216029468), (-1868.454336743, 1147.192515671))
        make_face()
        with BuildLine():
            Line((5, 319.960935116), (5, 1189.213611964))
            Line((5, 1189.213611964), (-5, 1189.213611964))
            Line((-5, 1189.213611964), (-5, 319.960935116))
            ThreePointArc((-5, 319.960935116), (0, 320), (5, 319.960935116))
        make_face()
        with BuildLine():
            Line((5, -309.959674797), (5, 309.959674797))
            ThreePointArc((5, 309.959674797), (0, 310), (-5, 309.959674797))
            Line((-5, 309.959674797), (-5, -309.959674797))
            ThreePointArc((-5, -309.959674797), (0, -310), (5, -309.959674797))
        make_face()
        with BuildLine():
            ThreePointArc((5, -319.960935116), (0, -320), (-5, -319.960935116))
            Line((-5, -319.960935116), (-5, -1199.927069503))
            Line((-5, -1199.927069503), (5, -1199.927069503))
            Line((5, -1199.927069503), (5, -319.960935116))
        make_face()
    extrude(amount=-MIRROR_3_COPY_7_DEPTH, mode=Mode.SUBTRACT)

    # 鏡射3 copy 8 sketch → 鏡射3 copy 8 (cut)
    with BuildSketch(Plane(origin=(0, 20, 0), x_dir=(1, 0, 0), z_dir=(0, 1, 0))):
        with Locations((1.30793571, 5.356728769)):
            Rectangle(MIRROR_3_COPY_8_SKETCH_W, MIRROR_3_COPY_8_SKETCH_H)
    extrude(amount=-MIRROR_3_COPY_8_DEPTH, mode=Mode.SUBTRACT)

    # 鏡射3 copy 9 sketch → 鏡射3 copy 9 (cut)
    with BuildSketch(Plane(origin=(0, 15, 0), x_dir=(1, 0, 0), z_dir=(0, 1, 0))):
        Polygon((-1868.454336743, -715), (-1288.454336743, -715), (-1278.454336743, -715), (-1278.454336743, 715), (-1868.454336743, 715), (-1868.454336743, 705), (-1288.454336743, 705), (-1288.454336743, -705), (-1868.454336743, -705), align=None)
    extrude(amount=-MIRROR_3_COPY_9_DEPTH, mode=Mode.SUBTRACT)

    # 鏡射3 copy 10 sketch → 鏡射3 copy 10 (cut)
    with BuildSketch(Plane(origin=(0, 15, 0), x_dir=(1, 0, 0), z_dir=(0, 1, 0))):
        Polygon((1871.070208162, -319.213611964), (1666.070208162, -319.213611964), (1666.070208162, 329.927069503), (1871.070208162, 329.927069503), (1871.070208162, 132.5), (1974.070208162, 132.5), (1974.070208162, -132.5), (1871.070208162, -132.5), align=None)
        with Locations((1768.570208162, 5.35672877)):
            Rectangle(MIRROR_3_COPY_10_SKETCH_W, MIRROR_3_COPY_10_SKETCH_H, mode=Mode.SUBTRACT)
        with Locations((1922.570208162, 0)):
            Rectangle(MIRROR_3_COPY_10_SKETCH_W_2, MIRROR_3_COPY_10_SKETCH_H_2, mode=Mode.SUBTRACT)
    extrude(amount=-MIRROR_3_COPY_10_DEPTH, mode=Mode.SUBTRACT)

    # 鏡射3 copy 11 sketch → 鏡射3 copy 11 (cut)
    with BuildSketch(Plane(origin=(0, 20, 0), x_dir=(1, 0, 0), z_dir=(0, 1, 0))):
        with Locations((1922.570208162, 0)):
            Rectangle(MIRROR_3_COPY_11_SKETCH_W, MIRROR_3_COPY_11_SKETCH_H)
        with Locations((1922.570208162, 0)):
            Rectangle(MIRROR_3_COPY_11_SKETCH_W_2, MIRROR_3_COPY_11_SKETCH_H_2, mode=Mode.SUBTRACT)
    extrude(amount=-MIRROR_3_COPY_11_DEPTH, mode=Mode.SUBTRACT)

    # 鏡射3 copy 12 sketch → 鏡射3 copy 12 (cut)
    with BuildSketch(Plane(origin=(0, 15, 0), x_dir=(1, 0, 0), z_dir=(0, 1, 0))):
        with BuildLine():
            ThreePointArc((-1278.454336743, 262.485638384), (-1149.264370393, 6.557696493), (-1278.454336743, -249.370245398))
            Line((-1278.454336743, -249.370245398), (-1278.454336743, -236.829294479))
            ThreePointArc((-1278.454336743, -236.829294479), (-1159.264370393, 6.557696493), (-1278.454336743, 249.944687465))
            Line((-1278.454336743, 249.944687465), (-1278.454336743, 262.485638384))
        make_face()
    extrude(amount=-MIRROR_3_COPY_12_DEPTH, mode=Mode.SUBTRACT)

    # 鏡射3 copy 13 sketch → 鏡射3 copy 13 (cut)
    with BuildSketch(Plane(origin=(0, 15, 0), x_dir=(1, 0, 0), z_dir=(0, 1, 0))):
        Circle(MIRROR_3_COPY_13_SKETCH_R)
        Circle(MIRROR_3_COPY_13_SKETCH_R_2, mode=Mode.SUBTRACT)
    extrude(amount=-MIRROR_3_COPY_13_DEPTH, mode=Mode.SUBTRACT)

    # 鏡射3 copy 14 sketch → 鏡射3 copy 14 (cut)
    with BuildSketch(Plane(origin=(0, 15, 0), x_dir=(1, 0, 0), z_dir=(0, 1, 0))):
        with BuildLine():
            ThreePointArc((-1868.454336743, -1147.192515671), (-1841.094059669, -1160.474906139), (-1831.139490585, -1189.213611964))
            Line((-1831.139490585, -1189.213611964), (-1841.121942258, -1188.621447643))
            ThreePointArc((-1841.121942258, -1188.621447643), (-1848.37548107, -1167.337749028), (-1868.454336743, -1157.216029468))
            Line((-1868.454336743, -1157.216029468), (-1868.454336743, -1147.192515671))
        make_face()
        with BuildLine():
            Line((5, -319.960935116), (5, -1189.213611964))
            Line((5, -1189.213611964), (-5, -1189.213611964))
            Line((-5, -1189.213611964), (-5, -319.960935116))
            ThreePointArc((-5, -319.960935116), (0, -320), (5, -319.960935116))
        make_face()
        with BuildLine():
            Line((5, 309.959674797), (5, -309.959674797))
            ThreePointArc((5, -309.959674797), (0, -310), (-5, -309.959674797))
            Line((-5, -309.959674797), (-5, 309.959674797))
            ThreePointArc((-5, 309.959674797), (0, 310), (5, 309.959674797))
        make_face()
        with BuildLine():
            ThreePointArc((5, 319.960935116), (0, 320), (-5, 319.960935116))
            Line((-5, 319.960935116), (-5, 1199.927069503))
            Line((-5, 1199.927069503), (5, 1199.927069503))
            Line((5, 1199.927069503), (5, 319.960935116))
        make_face()
    extrude(amount=-MIRROR_3_COPY_14_DEPTH, mode=Mode.SUBTRACT)


solid = part.part
